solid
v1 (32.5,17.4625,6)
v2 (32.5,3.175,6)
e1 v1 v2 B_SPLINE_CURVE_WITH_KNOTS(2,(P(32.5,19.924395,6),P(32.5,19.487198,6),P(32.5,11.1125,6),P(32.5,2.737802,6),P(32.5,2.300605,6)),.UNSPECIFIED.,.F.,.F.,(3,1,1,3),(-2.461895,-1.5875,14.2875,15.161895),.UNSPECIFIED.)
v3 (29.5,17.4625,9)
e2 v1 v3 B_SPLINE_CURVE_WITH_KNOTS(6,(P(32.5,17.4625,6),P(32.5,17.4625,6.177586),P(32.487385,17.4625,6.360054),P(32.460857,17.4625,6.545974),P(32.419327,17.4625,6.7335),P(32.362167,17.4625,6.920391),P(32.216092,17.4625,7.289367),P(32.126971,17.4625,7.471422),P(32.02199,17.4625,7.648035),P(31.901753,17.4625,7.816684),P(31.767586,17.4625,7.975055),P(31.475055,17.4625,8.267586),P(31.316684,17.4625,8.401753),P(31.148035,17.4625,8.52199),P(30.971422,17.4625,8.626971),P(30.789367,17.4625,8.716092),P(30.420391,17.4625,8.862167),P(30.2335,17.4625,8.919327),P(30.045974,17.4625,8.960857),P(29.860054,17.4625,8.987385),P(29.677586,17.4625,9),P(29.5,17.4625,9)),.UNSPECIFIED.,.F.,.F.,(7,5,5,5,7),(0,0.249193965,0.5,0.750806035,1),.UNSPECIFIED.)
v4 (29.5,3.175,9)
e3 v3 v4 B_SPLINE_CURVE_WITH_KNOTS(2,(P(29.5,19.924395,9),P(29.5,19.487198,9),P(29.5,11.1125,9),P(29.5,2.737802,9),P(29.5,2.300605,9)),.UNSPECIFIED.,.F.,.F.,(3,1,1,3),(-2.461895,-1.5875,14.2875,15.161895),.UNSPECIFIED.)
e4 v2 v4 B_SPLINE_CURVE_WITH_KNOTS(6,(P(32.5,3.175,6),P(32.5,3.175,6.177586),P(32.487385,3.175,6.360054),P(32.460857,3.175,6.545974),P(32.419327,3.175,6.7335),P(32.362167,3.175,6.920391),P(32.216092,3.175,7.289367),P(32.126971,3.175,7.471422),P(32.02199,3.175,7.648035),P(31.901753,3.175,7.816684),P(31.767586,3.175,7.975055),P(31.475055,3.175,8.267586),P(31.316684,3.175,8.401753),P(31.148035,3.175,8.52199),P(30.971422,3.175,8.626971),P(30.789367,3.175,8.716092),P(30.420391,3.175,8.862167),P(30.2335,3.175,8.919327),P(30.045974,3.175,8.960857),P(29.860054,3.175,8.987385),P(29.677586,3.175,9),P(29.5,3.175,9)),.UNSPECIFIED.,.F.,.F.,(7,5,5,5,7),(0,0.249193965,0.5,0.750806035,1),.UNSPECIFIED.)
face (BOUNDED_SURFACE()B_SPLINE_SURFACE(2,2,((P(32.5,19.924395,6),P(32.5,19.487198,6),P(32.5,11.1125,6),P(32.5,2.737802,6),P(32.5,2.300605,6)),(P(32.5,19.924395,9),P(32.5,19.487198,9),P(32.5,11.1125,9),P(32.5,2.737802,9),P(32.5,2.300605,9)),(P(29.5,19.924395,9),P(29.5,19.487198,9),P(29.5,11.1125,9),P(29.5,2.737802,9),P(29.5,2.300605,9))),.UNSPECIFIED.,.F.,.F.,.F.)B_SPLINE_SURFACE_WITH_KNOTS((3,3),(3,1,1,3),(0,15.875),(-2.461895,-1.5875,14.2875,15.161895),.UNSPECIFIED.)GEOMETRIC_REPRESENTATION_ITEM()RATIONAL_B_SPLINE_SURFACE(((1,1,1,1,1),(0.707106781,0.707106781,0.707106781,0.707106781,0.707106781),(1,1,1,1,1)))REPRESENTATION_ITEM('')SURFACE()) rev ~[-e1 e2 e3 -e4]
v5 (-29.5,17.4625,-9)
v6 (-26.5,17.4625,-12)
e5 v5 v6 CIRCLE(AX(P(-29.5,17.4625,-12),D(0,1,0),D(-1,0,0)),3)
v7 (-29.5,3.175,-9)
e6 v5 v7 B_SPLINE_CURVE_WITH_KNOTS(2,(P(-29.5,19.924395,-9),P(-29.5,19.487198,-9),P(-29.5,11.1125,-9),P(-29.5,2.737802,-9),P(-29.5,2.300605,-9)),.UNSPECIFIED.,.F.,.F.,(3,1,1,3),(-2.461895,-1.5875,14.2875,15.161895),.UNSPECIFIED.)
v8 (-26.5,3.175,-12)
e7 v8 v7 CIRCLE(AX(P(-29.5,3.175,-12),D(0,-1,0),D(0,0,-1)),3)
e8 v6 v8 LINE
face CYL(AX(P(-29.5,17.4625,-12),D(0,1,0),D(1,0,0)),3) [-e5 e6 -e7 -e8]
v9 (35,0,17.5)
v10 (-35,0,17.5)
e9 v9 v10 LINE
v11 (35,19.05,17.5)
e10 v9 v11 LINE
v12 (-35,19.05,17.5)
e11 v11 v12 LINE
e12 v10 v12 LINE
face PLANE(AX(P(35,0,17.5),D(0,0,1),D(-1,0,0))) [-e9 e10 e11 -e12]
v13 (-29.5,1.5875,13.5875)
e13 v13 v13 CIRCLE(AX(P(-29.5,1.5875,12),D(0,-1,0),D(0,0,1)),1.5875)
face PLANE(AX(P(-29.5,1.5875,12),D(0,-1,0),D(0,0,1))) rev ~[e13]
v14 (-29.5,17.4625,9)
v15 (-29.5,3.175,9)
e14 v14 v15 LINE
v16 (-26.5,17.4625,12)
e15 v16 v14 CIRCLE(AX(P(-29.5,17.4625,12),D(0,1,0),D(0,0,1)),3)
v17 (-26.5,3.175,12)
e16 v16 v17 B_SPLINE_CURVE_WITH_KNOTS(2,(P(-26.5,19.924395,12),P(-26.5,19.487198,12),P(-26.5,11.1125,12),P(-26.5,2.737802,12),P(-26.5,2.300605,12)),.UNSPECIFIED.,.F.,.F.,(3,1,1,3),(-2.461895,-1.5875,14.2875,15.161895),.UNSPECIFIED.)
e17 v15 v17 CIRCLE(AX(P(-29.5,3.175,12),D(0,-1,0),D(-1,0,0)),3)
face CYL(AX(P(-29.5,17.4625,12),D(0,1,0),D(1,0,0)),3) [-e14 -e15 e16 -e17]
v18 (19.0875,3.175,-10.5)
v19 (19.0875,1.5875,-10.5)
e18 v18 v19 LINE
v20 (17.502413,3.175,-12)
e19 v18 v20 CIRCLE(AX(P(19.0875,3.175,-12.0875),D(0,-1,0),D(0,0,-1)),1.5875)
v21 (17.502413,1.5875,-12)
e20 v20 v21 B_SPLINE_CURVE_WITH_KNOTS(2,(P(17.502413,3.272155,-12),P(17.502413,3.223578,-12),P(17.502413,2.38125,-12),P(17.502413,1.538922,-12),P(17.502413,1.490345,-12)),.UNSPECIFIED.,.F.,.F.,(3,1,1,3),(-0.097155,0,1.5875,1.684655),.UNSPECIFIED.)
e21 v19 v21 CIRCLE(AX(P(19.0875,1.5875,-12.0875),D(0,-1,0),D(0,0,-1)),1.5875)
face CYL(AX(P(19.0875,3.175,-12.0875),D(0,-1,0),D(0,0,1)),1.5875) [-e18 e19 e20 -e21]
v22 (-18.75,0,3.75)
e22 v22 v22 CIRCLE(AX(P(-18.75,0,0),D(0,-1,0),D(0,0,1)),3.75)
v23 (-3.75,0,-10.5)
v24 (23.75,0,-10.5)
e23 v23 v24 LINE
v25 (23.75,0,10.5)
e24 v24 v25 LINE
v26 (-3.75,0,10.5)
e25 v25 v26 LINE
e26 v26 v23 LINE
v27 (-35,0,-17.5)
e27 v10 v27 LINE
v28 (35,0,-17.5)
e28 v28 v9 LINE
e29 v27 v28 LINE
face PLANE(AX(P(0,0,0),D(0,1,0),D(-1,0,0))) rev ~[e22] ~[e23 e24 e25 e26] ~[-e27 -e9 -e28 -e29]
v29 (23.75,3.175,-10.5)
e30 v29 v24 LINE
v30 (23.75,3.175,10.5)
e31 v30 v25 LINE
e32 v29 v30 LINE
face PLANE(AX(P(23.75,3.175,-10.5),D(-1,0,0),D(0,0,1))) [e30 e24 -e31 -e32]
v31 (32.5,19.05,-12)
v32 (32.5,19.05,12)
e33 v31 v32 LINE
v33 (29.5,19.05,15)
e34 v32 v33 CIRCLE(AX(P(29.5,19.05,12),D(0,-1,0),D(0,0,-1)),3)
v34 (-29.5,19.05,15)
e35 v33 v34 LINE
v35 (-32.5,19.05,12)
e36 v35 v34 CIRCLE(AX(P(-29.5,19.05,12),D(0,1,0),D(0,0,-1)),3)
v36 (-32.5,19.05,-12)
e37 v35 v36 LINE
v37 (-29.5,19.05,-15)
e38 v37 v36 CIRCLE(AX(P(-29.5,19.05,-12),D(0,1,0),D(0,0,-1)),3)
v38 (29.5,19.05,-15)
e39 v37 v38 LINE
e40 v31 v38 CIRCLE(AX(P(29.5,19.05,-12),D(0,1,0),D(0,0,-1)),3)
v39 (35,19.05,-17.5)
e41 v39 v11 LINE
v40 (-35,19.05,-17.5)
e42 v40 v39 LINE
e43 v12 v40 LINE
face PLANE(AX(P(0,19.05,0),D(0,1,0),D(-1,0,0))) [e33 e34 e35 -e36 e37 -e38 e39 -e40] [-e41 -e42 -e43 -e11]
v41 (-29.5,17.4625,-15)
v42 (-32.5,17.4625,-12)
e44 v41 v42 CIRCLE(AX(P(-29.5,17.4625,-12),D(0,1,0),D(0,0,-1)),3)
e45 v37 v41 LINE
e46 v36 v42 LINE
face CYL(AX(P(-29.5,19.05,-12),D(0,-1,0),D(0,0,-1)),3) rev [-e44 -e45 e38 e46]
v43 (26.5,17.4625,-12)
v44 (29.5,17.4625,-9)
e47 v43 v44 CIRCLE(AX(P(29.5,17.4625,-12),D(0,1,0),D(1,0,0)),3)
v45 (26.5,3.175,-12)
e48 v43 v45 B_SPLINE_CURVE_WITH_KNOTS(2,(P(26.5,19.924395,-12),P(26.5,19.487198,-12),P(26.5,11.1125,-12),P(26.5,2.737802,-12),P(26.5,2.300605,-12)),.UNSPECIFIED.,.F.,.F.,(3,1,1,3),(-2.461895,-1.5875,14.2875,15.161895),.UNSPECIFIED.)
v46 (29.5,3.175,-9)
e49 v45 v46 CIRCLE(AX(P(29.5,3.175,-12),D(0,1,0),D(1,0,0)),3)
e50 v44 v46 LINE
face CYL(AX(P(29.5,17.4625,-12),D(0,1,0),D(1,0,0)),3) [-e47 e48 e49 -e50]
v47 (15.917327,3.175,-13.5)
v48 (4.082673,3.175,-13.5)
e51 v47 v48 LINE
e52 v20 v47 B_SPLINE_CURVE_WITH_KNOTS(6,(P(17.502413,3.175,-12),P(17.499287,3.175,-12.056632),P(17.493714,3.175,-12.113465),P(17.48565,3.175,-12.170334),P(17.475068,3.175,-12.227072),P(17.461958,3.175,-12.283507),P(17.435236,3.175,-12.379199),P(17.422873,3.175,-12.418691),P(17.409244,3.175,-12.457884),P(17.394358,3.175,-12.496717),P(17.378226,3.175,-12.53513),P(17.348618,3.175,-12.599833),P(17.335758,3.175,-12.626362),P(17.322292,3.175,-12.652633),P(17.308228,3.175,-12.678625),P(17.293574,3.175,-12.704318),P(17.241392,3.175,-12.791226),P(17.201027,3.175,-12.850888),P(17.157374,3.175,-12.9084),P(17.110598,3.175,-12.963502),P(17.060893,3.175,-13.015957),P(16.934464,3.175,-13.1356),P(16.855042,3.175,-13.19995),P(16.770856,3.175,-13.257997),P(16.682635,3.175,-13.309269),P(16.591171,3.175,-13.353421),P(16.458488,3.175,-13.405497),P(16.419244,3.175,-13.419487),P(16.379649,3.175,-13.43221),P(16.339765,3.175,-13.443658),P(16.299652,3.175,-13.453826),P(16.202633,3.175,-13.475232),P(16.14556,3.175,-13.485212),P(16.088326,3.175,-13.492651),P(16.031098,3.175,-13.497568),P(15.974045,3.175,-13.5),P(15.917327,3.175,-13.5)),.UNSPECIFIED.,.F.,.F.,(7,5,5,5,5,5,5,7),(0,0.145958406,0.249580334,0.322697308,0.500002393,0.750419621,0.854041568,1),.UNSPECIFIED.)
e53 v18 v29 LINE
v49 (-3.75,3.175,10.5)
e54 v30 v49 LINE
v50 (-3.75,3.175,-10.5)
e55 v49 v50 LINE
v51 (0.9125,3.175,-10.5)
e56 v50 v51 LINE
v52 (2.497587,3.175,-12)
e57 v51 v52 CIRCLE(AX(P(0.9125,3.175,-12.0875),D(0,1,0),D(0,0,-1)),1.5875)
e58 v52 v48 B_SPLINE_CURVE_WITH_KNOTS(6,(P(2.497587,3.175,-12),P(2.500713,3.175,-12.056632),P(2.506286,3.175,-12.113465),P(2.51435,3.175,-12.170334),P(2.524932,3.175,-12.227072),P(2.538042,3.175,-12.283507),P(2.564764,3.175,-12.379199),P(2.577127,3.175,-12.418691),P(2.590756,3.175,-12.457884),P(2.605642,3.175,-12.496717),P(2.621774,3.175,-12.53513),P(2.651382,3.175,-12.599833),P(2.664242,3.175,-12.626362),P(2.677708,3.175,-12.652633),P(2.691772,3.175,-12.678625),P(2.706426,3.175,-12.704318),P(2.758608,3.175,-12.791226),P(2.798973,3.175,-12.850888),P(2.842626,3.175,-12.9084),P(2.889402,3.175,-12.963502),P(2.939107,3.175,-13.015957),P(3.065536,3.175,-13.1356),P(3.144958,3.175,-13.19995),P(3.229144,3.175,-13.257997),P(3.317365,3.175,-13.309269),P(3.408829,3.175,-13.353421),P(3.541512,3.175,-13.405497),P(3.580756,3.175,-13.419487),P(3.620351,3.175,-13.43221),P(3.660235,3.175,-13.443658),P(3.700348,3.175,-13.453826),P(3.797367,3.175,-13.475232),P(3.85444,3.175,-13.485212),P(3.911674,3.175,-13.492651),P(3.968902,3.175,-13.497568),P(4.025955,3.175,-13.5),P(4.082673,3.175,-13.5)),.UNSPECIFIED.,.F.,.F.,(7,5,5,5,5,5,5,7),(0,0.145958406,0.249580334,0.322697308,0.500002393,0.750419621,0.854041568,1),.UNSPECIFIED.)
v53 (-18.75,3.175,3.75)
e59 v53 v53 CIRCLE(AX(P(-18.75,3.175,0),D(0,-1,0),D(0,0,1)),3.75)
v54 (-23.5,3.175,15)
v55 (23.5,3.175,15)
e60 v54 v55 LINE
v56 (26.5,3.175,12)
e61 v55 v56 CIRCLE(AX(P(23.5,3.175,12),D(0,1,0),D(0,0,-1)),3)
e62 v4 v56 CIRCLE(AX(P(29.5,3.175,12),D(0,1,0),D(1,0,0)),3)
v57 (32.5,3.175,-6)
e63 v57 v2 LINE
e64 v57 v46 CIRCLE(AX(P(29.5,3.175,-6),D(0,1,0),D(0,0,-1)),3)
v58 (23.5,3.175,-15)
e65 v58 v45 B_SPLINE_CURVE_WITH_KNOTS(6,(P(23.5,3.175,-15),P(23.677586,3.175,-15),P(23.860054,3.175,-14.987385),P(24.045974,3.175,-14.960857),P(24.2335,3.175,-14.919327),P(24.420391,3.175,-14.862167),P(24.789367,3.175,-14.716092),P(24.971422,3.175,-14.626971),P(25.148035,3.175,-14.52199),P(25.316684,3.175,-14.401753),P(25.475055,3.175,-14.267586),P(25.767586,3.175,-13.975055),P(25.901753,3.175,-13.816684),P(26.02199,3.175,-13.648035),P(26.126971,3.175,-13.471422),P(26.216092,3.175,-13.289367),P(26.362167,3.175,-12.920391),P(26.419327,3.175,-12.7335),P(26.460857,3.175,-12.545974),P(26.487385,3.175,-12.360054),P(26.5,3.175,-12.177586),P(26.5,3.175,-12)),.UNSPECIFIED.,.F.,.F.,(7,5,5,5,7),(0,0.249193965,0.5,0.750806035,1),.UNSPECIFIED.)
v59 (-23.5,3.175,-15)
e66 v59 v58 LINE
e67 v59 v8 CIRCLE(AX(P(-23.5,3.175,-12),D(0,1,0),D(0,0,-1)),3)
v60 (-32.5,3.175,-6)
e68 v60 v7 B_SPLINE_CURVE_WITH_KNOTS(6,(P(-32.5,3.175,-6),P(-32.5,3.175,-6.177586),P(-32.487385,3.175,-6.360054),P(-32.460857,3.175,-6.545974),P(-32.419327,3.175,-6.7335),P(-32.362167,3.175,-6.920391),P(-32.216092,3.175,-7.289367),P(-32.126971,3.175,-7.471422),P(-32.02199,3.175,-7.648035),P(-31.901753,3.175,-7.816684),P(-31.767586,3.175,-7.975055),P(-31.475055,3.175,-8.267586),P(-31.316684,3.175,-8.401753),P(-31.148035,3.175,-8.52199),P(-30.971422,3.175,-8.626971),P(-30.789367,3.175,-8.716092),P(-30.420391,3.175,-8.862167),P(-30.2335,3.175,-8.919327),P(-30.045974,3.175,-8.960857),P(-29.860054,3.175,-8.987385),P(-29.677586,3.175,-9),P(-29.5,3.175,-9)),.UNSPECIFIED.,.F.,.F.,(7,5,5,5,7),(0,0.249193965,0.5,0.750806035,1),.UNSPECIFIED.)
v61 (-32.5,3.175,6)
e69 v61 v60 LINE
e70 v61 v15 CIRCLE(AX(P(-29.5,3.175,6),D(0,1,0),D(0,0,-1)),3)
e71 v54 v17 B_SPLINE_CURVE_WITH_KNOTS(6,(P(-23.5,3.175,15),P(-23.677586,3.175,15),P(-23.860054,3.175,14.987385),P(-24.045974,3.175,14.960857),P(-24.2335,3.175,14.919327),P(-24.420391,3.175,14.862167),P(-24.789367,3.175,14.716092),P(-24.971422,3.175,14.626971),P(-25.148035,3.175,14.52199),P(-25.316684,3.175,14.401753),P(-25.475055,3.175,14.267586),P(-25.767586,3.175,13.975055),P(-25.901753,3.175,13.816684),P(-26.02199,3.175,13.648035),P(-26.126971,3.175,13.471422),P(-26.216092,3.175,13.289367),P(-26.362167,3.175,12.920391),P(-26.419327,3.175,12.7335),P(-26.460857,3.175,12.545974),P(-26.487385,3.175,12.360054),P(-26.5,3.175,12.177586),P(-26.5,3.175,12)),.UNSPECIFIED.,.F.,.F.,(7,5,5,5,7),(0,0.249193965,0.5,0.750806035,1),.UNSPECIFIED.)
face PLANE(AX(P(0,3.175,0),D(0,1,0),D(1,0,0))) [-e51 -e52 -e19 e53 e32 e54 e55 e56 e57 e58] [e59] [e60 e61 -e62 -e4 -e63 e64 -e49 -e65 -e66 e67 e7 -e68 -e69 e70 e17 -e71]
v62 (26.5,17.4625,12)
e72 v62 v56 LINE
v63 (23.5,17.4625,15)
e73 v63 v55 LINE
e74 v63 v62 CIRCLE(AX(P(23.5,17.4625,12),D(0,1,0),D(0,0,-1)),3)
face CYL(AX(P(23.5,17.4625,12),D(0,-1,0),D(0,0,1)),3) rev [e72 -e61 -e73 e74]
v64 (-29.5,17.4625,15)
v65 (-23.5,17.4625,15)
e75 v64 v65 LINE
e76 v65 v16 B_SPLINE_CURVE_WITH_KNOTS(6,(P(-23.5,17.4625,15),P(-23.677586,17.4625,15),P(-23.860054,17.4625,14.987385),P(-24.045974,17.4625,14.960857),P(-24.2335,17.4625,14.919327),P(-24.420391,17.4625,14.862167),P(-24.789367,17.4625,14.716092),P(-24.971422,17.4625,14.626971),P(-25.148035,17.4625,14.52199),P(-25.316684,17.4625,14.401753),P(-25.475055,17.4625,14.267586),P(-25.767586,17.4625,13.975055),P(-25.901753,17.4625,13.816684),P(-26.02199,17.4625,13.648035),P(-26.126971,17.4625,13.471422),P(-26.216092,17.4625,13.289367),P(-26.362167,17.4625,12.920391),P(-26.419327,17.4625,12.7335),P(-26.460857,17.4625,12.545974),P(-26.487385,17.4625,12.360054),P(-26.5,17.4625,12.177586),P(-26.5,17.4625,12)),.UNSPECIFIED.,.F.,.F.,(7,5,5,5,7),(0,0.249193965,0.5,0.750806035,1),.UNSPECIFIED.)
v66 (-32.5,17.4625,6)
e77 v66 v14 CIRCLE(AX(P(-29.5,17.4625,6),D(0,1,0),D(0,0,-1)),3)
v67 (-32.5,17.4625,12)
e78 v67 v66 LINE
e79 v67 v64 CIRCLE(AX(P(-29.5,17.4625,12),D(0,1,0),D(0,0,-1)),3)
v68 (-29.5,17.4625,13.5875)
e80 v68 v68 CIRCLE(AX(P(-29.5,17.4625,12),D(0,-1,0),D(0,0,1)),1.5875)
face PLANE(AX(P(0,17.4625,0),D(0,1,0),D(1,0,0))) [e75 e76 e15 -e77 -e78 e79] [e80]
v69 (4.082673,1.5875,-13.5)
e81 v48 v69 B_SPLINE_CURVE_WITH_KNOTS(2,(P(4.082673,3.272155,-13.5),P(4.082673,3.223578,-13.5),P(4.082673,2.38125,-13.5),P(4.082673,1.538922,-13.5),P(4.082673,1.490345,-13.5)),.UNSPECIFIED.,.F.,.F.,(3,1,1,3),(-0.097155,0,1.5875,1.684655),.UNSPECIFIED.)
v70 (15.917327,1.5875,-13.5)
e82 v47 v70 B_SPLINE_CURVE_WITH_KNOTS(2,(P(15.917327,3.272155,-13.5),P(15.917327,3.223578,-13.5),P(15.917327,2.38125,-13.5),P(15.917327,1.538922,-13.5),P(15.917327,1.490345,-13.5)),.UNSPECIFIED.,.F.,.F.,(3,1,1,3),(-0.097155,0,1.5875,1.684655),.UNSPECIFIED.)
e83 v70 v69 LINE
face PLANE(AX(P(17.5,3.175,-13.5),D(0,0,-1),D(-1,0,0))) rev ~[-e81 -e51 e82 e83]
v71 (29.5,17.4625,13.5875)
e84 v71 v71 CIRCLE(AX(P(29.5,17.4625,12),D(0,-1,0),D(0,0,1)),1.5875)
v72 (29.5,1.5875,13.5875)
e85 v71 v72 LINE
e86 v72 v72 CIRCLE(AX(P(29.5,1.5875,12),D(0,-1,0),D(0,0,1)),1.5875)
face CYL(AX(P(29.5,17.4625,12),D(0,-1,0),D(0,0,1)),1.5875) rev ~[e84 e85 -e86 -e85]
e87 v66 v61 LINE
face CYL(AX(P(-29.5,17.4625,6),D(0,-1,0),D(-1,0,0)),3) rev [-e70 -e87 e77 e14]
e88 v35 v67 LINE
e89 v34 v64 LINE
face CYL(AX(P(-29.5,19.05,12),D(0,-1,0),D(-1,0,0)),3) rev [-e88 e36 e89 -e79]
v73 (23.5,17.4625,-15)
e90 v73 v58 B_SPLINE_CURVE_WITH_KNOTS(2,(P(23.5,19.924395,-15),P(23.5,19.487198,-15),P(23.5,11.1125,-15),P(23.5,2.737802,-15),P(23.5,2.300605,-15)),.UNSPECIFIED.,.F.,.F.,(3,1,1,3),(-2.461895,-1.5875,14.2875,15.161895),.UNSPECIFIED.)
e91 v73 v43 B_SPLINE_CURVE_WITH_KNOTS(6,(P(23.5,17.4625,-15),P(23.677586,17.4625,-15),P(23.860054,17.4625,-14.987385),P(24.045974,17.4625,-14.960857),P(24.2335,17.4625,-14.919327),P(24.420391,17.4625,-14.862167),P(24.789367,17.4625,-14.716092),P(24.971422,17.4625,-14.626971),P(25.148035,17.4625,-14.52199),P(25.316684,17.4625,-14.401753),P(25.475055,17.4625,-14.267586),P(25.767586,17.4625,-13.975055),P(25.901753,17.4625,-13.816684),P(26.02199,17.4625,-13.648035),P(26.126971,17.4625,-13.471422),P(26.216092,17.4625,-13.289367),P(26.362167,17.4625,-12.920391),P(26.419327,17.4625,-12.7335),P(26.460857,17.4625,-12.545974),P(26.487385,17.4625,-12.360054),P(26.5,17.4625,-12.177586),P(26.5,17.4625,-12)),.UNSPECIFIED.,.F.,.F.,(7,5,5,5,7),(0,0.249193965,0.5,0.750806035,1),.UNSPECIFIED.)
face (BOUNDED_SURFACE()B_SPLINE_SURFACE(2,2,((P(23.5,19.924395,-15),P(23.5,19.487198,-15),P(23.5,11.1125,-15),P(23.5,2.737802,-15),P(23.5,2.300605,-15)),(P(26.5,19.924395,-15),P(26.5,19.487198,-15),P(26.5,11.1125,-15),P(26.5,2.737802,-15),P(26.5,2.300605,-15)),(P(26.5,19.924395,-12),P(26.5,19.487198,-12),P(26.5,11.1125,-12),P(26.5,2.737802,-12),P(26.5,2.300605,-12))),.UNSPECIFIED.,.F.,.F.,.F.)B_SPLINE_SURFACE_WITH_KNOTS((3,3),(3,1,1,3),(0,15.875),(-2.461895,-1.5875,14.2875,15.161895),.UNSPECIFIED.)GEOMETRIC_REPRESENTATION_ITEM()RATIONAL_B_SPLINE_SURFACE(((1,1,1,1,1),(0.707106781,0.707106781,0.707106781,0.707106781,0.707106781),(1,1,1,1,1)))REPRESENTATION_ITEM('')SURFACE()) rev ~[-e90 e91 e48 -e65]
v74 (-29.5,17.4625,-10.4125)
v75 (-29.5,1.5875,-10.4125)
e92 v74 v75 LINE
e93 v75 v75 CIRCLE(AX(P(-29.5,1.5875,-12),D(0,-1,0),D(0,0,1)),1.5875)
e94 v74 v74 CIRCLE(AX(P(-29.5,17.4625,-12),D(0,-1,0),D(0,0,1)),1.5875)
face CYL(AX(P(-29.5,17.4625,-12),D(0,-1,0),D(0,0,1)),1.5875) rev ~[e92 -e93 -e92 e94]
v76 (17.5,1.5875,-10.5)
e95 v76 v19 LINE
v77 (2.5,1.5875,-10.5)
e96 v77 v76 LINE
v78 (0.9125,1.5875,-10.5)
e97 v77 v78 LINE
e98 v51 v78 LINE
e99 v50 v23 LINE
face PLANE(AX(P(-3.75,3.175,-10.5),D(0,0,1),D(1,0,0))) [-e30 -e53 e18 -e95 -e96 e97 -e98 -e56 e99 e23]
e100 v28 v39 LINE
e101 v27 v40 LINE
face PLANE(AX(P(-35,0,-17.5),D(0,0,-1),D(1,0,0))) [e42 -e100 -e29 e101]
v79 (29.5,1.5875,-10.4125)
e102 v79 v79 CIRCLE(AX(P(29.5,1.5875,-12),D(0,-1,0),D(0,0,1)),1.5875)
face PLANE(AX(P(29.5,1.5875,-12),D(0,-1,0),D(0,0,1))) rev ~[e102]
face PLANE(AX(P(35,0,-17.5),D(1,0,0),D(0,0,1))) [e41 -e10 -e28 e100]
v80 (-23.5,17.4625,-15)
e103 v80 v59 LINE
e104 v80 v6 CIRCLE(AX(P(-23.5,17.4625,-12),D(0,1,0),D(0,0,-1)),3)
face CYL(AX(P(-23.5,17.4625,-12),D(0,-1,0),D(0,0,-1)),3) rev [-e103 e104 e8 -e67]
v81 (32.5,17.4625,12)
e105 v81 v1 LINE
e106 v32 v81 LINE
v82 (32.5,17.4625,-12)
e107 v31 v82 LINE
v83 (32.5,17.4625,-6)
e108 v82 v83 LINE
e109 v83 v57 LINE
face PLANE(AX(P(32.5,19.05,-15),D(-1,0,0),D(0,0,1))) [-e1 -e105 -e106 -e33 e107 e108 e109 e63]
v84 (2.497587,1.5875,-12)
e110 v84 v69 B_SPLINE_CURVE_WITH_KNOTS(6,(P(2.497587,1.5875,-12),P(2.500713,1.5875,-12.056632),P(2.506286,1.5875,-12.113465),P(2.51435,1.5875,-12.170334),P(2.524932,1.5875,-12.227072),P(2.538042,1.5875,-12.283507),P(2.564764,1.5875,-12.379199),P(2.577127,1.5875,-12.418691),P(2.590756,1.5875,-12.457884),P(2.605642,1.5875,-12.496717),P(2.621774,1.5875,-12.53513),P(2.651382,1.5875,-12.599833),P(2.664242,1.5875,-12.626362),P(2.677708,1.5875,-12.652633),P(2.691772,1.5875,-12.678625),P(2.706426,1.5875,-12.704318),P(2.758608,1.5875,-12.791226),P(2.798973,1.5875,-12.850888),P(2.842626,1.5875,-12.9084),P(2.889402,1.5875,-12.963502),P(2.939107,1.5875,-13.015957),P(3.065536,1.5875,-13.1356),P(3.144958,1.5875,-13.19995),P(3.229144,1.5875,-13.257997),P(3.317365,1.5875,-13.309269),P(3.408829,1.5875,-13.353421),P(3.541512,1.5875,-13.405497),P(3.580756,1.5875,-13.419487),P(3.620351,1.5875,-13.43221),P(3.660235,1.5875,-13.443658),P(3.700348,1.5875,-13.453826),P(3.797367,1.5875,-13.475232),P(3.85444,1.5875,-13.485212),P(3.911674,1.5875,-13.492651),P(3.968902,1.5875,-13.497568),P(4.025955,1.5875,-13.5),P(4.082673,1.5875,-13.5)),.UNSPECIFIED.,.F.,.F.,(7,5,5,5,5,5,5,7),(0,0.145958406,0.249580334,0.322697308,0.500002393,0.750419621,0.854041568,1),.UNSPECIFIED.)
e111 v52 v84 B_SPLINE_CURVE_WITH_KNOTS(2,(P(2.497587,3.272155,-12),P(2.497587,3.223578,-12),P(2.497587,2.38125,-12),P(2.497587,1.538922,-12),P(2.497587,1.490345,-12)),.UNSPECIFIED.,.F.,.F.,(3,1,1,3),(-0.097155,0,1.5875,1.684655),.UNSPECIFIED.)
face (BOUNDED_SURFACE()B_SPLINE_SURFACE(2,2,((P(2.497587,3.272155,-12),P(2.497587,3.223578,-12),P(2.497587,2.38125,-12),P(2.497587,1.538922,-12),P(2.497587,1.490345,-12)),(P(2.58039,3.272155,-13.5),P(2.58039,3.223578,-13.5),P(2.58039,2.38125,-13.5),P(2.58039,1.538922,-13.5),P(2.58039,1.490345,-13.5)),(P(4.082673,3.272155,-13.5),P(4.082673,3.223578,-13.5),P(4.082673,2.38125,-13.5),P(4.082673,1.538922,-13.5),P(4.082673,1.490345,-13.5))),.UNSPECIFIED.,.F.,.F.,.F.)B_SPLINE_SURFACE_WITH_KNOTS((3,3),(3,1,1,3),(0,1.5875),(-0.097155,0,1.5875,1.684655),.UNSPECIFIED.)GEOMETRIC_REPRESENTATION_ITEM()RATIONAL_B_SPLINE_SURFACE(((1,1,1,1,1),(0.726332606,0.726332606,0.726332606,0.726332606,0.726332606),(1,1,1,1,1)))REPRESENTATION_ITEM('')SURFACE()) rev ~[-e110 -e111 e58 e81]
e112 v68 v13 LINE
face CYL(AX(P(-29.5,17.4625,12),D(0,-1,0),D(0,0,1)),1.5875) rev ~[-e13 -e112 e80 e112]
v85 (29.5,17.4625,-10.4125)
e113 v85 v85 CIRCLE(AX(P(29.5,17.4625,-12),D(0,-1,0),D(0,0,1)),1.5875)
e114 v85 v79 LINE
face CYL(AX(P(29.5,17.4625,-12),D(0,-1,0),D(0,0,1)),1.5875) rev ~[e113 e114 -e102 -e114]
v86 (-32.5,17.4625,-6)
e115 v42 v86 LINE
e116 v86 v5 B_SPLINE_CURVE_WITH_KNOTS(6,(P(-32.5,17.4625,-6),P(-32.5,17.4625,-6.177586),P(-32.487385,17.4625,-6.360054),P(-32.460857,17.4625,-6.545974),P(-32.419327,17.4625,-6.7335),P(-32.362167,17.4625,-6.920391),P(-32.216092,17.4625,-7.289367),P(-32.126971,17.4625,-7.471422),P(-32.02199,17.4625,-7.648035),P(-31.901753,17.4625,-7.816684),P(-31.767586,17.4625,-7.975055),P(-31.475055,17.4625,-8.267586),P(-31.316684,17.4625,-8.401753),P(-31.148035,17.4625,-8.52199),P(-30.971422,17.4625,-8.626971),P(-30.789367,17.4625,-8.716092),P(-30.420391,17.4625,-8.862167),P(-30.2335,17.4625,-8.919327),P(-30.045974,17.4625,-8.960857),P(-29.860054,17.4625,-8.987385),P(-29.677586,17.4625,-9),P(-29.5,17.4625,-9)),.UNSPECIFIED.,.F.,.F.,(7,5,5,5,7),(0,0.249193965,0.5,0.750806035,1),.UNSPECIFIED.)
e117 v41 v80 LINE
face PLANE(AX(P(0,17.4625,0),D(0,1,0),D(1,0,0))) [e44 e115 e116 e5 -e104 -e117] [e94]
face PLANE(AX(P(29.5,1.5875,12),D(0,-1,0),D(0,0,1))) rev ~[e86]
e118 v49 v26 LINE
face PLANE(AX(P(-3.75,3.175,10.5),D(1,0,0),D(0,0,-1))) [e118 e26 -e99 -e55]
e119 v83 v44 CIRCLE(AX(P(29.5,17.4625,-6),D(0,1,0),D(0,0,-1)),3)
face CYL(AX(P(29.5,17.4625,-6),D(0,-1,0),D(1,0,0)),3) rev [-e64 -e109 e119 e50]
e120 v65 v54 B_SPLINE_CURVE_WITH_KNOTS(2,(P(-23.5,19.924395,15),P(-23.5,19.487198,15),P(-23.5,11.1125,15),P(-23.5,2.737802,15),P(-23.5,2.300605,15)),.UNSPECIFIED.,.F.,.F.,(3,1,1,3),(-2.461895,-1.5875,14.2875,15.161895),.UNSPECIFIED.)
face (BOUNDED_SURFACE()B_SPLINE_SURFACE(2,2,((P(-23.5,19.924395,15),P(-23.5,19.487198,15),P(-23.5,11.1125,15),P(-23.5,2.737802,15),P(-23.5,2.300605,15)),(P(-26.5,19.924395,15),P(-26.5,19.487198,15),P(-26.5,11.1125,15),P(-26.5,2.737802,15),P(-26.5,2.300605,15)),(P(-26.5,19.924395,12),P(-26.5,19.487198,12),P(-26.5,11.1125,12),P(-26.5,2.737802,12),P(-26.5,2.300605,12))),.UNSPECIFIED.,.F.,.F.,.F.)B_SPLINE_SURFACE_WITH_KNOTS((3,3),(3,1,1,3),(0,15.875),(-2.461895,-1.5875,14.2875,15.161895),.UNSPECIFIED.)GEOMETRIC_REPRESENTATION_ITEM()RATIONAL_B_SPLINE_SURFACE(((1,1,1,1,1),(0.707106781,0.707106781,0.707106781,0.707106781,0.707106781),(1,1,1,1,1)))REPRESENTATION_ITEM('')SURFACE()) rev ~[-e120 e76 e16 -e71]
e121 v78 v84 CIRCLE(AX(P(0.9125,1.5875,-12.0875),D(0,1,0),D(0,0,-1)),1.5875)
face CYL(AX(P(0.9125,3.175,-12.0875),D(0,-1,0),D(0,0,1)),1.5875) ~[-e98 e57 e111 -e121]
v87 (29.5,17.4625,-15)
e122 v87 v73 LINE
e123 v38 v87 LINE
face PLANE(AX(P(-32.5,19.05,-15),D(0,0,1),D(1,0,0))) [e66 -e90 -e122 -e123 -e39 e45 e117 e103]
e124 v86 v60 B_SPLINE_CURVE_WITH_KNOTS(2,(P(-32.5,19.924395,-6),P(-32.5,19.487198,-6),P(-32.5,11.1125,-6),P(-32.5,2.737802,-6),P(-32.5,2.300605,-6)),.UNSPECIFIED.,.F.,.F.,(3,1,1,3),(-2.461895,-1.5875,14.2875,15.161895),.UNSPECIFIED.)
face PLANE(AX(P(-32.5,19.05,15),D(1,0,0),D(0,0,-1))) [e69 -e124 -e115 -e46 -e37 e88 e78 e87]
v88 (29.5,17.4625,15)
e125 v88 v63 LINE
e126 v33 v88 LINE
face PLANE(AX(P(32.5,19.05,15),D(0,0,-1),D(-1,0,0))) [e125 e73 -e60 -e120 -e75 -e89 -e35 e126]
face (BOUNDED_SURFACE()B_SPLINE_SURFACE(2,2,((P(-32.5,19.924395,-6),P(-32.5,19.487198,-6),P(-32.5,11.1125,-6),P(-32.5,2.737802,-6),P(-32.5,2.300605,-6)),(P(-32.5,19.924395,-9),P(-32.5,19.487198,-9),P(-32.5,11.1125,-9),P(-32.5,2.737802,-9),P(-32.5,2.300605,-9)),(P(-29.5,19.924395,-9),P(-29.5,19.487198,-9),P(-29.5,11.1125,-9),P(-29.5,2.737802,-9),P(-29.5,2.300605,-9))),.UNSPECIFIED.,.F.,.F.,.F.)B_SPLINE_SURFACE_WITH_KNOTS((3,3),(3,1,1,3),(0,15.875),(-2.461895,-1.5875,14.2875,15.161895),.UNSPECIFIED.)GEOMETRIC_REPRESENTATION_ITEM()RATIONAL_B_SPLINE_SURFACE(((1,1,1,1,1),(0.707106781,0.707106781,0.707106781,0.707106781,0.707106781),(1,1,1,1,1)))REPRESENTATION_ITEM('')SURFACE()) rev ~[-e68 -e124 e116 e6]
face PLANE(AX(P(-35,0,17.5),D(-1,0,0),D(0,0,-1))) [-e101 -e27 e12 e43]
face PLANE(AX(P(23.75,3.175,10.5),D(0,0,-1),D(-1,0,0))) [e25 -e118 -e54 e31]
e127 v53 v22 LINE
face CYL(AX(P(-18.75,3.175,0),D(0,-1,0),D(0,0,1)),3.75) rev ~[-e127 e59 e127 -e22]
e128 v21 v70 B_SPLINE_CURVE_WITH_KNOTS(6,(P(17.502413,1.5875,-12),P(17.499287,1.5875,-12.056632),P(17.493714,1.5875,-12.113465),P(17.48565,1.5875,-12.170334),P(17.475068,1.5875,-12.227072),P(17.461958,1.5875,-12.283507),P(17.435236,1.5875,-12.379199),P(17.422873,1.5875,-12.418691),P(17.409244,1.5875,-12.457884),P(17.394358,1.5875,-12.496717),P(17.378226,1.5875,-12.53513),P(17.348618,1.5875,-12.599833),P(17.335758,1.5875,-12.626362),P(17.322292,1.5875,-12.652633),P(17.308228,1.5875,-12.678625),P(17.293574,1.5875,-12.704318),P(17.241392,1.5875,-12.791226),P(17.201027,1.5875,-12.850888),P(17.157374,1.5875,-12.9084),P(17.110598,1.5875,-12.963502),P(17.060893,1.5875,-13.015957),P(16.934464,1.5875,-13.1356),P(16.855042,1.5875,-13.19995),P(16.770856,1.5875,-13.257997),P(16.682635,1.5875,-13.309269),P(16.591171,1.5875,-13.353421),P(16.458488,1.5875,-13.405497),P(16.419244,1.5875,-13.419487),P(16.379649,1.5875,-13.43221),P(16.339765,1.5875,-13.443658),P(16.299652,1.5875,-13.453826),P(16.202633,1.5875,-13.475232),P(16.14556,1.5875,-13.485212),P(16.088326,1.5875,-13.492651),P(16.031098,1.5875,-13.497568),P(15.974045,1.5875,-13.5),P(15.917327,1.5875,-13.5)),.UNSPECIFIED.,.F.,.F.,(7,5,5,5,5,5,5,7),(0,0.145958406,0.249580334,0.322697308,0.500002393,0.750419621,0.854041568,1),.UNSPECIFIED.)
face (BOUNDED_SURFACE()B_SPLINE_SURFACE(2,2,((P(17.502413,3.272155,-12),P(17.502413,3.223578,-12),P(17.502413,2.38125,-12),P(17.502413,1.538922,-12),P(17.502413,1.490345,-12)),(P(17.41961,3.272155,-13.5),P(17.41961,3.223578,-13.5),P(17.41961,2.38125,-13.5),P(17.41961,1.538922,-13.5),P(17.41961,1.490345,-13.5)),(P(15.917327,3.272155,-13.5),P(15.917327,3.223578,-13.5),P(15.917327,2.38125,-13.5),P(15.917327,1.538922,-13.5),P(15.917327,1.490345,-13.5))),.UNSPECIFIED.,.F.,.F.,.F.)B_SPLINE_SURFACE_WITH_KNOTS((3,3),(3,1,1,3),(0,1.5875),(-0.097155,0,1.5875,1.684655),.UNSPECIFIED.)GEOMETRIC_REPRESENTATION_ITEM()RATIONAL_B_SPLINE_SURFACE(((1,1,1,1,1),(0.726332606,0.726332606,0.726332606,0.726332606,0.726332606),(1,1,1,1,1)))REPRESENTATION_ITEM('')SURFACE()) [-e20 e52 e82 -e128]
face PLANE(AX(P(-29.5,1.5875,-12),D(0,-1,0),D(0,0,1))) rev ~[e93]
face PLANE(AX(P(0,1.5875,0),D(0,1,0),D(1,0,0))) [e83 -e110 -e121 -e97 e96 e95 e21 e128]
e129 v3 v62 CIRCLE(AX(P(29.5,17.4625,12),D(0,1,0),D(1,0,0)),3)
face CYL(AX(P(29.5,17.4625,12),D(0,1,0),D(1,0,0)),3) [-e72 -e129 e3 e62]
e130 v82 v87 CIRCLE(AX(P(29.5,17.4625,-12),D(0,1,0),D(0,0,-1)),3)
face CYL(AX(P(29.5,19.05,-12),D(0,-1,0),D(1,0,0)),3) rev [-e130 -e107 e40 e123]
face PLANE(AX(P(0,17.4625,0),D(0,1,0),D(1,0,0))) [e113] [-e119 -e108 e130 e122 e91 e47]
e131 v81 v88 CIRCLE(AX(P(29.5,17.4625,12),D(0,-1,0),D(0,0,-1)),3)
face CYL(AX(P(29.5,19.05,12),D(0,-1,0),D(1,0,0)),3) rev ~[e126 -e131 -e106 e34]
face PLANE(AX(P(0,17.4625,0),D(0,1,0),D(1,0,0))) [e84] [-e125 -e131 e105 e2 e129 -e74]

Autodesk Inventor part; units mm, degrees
ref_plane "YZ Plane" through (0, 0, 0) normal (1, 0, 0) x (0, 1, 0)
ref_plane "XZ Plane" through (0, 0, 0) normal (0, 1, 0) x (-1, 0, 0)
ref_plane "XY Plane" through (0, 0, 0) normal (0, 0, 1) x (1, 0, 0)
sketch "Sketch1" plane through (0, 0, 0) normal (0, 1, 0) x (-1, 0, 0)
  line L0 (35, -17.5) -> (-35, -17.5)
  line L1 (-35, -17.5) -> (-35, 17.5)
  line L2 (-35, 17.5) -> (35, 17.5)
  line L3 (35, 17.5) -> (35, -17.5)
  line L4 (35, -17.5) -> (-35, 17.5) construction
  line L5 (-35, -17.5) -> (35, 17.5) construction
  point P0 (0, 0)
  dimension "d0" = 70
  dimension "d1" = 35
extrude "Extrusion1" add sketch "Sketch1" along normal blind 19.05
sketch "Sketch2" plane through (0, 19.05, 0) normal (0, 1, 0) x (1, 0, 0)
  line L0 (32.5, -15) -> (-32.5, -15)
  line L1 (-32.5, -15) -> (-32.5, 15)
  line L2 (-32.5, 15) -> (32.5, 15)
  line L3 (32.5, 15) -> (32.5, -15)
  line L4 (32.5, -15) -> (-32.5, 15) construction
  line L5 (-32.5, -15) -> (32.5, 15) construction
  point P0 (0, 0)
  dimension "d4" = 65
  dimension "d5" = 30
extrude "Extrusion2" cut sketch "Sketch2" against normal blind 1.5875
fillet "Fillet1" radius 3 4 edges at (-32.5, 18.2563, -15) (-32.5, 18.2563, 15) (32.5, 18.2563, -15) (32.5, 18.2563, 15)
sketch "Sketch3" plane through (0, 17.4625, 0) normal (0, 1, 0) x (1, 0, 0)
  arc A0 (-29.5, 15) -> (-32.5, 12) centre (-29.5, 12) ccw projected
  arc A1 (-32.5, -12) -> (-29.5, -15) centre (-29.5, -12) ccw projected
  arc A2 (29.5, -15) -> (32.5, -12) centre (29.5, -12) ccw projected
  arc A3 (32.5, 12) -> (29.5, 15) centre (29.5, 12) ccw projected
  point P0 (0, 0)
hole "Hole1" at (-29.5, 17.4625, -12) at (-29.5, 17.4625, 12) at (29.5, 17.4625, 12) at (29.5, 17.4625, -12) direction (0, -1, 0) diameter 3.175 depth 15.875
sketch "Sketch4" plane through (0, 17.4625, 0) normal (0, 1, 0) x (1, 0, 0)
  circle A0 centre (-29.5, 12) radius 1.5875 construction
  circle A1 centre (-29.5, 12) radius 3
  circle A2 centre (-29.5, -12) radius 1.5875 construction
  circle A3 centre (-29.5, -12) radius 3
  circle A4 centre (29.5, -12) radius 1.5875 construction
  arc A5 (29.5, -15) -> (32.5, -12) centre (29.5, -12) ccw projected
  circle A6 centre (29.5, -12) radius 3
  circle A7 centre (29.5, 12) radius 1.5875 construction
  circle A8 centre (29.5, 12) radius 3
  arc A9 (-29.5, 15) -> (-32.5, 12) centre (-29.5, 12) ccw projected
  arc A10 (-32.5, -12) -> (-29.5, -15) centre (-29.5, -12) ccw projected
  arc A11 (32.5, 12) -> (29.5, 15) centre (29.5, 12) ccw projected
  line L0 (-29.5, 15) -> (29.5, 15) projected
  line L1 (-29.5, 15) -> (29.5, 15)
  line L2 (-35, 17.5) -> (35, 17.5) projected
  line L3 (-32.5, -12) -> (-32.5, 12) projected
  line L4 (-32.5, 12) -> (-32.5, -12)
  arc A12 (-32.5, -12) -> (-29.5, -15) centre (-29.5, -12) ccw projected
  line L5 (-29.5, -15) -> (29.5, -15)
  line L6 (32.5, 12) -> (32.5, -12) projected
  line L7 (32.5, 12) -> (32.5, -12)
  point P0 (0, 0)
  point P1 (-29.5, -9)
  point P2 (-26.5, -12)
  point P3 (-29.5, 9)
  point P4 (-26.5, 12)
  point P5 (26.5, 12)
  point P6 (29.5, 9)
  point P7 (26.5, -12)
  point P8 (29.5, -9)
extrude "Extrusion3" cut sketch "Sketch4" against normal blind 14.2875 contours A1 L0 A8 L6 A6 L5 A3 L3
fillet "Fillet3" radius 3 8 edges at (-32.5, 10.3188, -12) (-29.5, 10.3188, -15) (-32.5, 10.3188, 12) (-29.5, 10.3188, 15) (29.5, 10.3188, 15) (32.5, 10.3188, 12) (29.5, 10.3188, -15) (32.5, 10.3188, -12)
sketch "Sketch6" plane through (0, 3.175, 0) normal (0, 1, 0) x (1, 0, 0)
  line L0 (-3.75, 10.5) -> (23.75, 10.5)
  line L1 (23.75, 10.5) -> (23.75, -10.5)
  line L2 (23.75, -10.5) -> (-3.75, -10.5)
  line L3 (-3.75, -10.5) -> (-3.75, 10.5)
  line L4 (-3.75, 10.5) -> (23.75, -10.5) construction
  line L5 (23.75, 10.5) -> (-3.75, -10.5) construction
  line L6 (-3.5, 14) -> (23.5, 14) construction
  line L7 (23.5, 14) -> (23.5, -14) construction
  line L8 (23.5, -14) -> (-3.5, -14) construction
  line L9 (-3.5, -14) -> (-3.5, 14) construction
  line L10 (-3.5, 14) -> (23.5, -14) construction
  line L11 (23.5, 14) -> (-3.5, -14) construction
  point P0 (0, 0)
  point P1 (10, 0)
  point P2 (10, 0)
  point P3 (10, 0)
  dimension "d22" = 27.5
  dimension "d23" = 21
  dimension "d24" = 27
  dimension "d25" = 28
  dimension "d26" = 10
extrude "Extrusion4" cut sketch "Sketch6" against normal through all
sketch "Sketch7" plane through (0, 3.175, 0) normal (0, 1, 0) x (1, 0, 0)
  line L0 (-3.75, -10.5) -> (-3.75, 10.5) projected
  point P0 (0, 0)
  point P1 (-18.75, 0)
  dimension "d37" = 15
hole "Hole2" at (-18.75, 3.175, 0) direction (0, -1, 0) diameter 7.5 end through all
sketch "Sketch8" plane through (0, 3.175, 0) normal (0, 1, 0) x (1, 0, 0)
  line L0 (17.5, 13.5) -> (2.5, 13.5)
  line L1 (2.5, 13.5) -> (2.5, 10.5)
  line L2 (2.5, 10.5) -> (17.5, 10.5)
  line L3 (17.5, 10.5) -> (17.5, 13.5)
  line L4 (-3.75, 10.5) -> (23.75, 10.5) projected
  point P0 (0, 0)
  point P1 (10, 13.5)
  point P2 (10, 10.5)
  point P3 (10, 10.5)
  dimension "d38" = 3
  dimension "d39" = 15
extrude "Extrusion5" cut sketch "Sketch8" against normal blind 1.5875
fillet "Fillet5" radius 1.5875 4 edges at (2.5, 2.3812, -13.5) (2.5, 2.3812, -10.5) (17.5, 2.3812, -13.5) (17.5, 2.3812, -10.5)
properties part number "Display Case" material "Wood (Walnut)"
